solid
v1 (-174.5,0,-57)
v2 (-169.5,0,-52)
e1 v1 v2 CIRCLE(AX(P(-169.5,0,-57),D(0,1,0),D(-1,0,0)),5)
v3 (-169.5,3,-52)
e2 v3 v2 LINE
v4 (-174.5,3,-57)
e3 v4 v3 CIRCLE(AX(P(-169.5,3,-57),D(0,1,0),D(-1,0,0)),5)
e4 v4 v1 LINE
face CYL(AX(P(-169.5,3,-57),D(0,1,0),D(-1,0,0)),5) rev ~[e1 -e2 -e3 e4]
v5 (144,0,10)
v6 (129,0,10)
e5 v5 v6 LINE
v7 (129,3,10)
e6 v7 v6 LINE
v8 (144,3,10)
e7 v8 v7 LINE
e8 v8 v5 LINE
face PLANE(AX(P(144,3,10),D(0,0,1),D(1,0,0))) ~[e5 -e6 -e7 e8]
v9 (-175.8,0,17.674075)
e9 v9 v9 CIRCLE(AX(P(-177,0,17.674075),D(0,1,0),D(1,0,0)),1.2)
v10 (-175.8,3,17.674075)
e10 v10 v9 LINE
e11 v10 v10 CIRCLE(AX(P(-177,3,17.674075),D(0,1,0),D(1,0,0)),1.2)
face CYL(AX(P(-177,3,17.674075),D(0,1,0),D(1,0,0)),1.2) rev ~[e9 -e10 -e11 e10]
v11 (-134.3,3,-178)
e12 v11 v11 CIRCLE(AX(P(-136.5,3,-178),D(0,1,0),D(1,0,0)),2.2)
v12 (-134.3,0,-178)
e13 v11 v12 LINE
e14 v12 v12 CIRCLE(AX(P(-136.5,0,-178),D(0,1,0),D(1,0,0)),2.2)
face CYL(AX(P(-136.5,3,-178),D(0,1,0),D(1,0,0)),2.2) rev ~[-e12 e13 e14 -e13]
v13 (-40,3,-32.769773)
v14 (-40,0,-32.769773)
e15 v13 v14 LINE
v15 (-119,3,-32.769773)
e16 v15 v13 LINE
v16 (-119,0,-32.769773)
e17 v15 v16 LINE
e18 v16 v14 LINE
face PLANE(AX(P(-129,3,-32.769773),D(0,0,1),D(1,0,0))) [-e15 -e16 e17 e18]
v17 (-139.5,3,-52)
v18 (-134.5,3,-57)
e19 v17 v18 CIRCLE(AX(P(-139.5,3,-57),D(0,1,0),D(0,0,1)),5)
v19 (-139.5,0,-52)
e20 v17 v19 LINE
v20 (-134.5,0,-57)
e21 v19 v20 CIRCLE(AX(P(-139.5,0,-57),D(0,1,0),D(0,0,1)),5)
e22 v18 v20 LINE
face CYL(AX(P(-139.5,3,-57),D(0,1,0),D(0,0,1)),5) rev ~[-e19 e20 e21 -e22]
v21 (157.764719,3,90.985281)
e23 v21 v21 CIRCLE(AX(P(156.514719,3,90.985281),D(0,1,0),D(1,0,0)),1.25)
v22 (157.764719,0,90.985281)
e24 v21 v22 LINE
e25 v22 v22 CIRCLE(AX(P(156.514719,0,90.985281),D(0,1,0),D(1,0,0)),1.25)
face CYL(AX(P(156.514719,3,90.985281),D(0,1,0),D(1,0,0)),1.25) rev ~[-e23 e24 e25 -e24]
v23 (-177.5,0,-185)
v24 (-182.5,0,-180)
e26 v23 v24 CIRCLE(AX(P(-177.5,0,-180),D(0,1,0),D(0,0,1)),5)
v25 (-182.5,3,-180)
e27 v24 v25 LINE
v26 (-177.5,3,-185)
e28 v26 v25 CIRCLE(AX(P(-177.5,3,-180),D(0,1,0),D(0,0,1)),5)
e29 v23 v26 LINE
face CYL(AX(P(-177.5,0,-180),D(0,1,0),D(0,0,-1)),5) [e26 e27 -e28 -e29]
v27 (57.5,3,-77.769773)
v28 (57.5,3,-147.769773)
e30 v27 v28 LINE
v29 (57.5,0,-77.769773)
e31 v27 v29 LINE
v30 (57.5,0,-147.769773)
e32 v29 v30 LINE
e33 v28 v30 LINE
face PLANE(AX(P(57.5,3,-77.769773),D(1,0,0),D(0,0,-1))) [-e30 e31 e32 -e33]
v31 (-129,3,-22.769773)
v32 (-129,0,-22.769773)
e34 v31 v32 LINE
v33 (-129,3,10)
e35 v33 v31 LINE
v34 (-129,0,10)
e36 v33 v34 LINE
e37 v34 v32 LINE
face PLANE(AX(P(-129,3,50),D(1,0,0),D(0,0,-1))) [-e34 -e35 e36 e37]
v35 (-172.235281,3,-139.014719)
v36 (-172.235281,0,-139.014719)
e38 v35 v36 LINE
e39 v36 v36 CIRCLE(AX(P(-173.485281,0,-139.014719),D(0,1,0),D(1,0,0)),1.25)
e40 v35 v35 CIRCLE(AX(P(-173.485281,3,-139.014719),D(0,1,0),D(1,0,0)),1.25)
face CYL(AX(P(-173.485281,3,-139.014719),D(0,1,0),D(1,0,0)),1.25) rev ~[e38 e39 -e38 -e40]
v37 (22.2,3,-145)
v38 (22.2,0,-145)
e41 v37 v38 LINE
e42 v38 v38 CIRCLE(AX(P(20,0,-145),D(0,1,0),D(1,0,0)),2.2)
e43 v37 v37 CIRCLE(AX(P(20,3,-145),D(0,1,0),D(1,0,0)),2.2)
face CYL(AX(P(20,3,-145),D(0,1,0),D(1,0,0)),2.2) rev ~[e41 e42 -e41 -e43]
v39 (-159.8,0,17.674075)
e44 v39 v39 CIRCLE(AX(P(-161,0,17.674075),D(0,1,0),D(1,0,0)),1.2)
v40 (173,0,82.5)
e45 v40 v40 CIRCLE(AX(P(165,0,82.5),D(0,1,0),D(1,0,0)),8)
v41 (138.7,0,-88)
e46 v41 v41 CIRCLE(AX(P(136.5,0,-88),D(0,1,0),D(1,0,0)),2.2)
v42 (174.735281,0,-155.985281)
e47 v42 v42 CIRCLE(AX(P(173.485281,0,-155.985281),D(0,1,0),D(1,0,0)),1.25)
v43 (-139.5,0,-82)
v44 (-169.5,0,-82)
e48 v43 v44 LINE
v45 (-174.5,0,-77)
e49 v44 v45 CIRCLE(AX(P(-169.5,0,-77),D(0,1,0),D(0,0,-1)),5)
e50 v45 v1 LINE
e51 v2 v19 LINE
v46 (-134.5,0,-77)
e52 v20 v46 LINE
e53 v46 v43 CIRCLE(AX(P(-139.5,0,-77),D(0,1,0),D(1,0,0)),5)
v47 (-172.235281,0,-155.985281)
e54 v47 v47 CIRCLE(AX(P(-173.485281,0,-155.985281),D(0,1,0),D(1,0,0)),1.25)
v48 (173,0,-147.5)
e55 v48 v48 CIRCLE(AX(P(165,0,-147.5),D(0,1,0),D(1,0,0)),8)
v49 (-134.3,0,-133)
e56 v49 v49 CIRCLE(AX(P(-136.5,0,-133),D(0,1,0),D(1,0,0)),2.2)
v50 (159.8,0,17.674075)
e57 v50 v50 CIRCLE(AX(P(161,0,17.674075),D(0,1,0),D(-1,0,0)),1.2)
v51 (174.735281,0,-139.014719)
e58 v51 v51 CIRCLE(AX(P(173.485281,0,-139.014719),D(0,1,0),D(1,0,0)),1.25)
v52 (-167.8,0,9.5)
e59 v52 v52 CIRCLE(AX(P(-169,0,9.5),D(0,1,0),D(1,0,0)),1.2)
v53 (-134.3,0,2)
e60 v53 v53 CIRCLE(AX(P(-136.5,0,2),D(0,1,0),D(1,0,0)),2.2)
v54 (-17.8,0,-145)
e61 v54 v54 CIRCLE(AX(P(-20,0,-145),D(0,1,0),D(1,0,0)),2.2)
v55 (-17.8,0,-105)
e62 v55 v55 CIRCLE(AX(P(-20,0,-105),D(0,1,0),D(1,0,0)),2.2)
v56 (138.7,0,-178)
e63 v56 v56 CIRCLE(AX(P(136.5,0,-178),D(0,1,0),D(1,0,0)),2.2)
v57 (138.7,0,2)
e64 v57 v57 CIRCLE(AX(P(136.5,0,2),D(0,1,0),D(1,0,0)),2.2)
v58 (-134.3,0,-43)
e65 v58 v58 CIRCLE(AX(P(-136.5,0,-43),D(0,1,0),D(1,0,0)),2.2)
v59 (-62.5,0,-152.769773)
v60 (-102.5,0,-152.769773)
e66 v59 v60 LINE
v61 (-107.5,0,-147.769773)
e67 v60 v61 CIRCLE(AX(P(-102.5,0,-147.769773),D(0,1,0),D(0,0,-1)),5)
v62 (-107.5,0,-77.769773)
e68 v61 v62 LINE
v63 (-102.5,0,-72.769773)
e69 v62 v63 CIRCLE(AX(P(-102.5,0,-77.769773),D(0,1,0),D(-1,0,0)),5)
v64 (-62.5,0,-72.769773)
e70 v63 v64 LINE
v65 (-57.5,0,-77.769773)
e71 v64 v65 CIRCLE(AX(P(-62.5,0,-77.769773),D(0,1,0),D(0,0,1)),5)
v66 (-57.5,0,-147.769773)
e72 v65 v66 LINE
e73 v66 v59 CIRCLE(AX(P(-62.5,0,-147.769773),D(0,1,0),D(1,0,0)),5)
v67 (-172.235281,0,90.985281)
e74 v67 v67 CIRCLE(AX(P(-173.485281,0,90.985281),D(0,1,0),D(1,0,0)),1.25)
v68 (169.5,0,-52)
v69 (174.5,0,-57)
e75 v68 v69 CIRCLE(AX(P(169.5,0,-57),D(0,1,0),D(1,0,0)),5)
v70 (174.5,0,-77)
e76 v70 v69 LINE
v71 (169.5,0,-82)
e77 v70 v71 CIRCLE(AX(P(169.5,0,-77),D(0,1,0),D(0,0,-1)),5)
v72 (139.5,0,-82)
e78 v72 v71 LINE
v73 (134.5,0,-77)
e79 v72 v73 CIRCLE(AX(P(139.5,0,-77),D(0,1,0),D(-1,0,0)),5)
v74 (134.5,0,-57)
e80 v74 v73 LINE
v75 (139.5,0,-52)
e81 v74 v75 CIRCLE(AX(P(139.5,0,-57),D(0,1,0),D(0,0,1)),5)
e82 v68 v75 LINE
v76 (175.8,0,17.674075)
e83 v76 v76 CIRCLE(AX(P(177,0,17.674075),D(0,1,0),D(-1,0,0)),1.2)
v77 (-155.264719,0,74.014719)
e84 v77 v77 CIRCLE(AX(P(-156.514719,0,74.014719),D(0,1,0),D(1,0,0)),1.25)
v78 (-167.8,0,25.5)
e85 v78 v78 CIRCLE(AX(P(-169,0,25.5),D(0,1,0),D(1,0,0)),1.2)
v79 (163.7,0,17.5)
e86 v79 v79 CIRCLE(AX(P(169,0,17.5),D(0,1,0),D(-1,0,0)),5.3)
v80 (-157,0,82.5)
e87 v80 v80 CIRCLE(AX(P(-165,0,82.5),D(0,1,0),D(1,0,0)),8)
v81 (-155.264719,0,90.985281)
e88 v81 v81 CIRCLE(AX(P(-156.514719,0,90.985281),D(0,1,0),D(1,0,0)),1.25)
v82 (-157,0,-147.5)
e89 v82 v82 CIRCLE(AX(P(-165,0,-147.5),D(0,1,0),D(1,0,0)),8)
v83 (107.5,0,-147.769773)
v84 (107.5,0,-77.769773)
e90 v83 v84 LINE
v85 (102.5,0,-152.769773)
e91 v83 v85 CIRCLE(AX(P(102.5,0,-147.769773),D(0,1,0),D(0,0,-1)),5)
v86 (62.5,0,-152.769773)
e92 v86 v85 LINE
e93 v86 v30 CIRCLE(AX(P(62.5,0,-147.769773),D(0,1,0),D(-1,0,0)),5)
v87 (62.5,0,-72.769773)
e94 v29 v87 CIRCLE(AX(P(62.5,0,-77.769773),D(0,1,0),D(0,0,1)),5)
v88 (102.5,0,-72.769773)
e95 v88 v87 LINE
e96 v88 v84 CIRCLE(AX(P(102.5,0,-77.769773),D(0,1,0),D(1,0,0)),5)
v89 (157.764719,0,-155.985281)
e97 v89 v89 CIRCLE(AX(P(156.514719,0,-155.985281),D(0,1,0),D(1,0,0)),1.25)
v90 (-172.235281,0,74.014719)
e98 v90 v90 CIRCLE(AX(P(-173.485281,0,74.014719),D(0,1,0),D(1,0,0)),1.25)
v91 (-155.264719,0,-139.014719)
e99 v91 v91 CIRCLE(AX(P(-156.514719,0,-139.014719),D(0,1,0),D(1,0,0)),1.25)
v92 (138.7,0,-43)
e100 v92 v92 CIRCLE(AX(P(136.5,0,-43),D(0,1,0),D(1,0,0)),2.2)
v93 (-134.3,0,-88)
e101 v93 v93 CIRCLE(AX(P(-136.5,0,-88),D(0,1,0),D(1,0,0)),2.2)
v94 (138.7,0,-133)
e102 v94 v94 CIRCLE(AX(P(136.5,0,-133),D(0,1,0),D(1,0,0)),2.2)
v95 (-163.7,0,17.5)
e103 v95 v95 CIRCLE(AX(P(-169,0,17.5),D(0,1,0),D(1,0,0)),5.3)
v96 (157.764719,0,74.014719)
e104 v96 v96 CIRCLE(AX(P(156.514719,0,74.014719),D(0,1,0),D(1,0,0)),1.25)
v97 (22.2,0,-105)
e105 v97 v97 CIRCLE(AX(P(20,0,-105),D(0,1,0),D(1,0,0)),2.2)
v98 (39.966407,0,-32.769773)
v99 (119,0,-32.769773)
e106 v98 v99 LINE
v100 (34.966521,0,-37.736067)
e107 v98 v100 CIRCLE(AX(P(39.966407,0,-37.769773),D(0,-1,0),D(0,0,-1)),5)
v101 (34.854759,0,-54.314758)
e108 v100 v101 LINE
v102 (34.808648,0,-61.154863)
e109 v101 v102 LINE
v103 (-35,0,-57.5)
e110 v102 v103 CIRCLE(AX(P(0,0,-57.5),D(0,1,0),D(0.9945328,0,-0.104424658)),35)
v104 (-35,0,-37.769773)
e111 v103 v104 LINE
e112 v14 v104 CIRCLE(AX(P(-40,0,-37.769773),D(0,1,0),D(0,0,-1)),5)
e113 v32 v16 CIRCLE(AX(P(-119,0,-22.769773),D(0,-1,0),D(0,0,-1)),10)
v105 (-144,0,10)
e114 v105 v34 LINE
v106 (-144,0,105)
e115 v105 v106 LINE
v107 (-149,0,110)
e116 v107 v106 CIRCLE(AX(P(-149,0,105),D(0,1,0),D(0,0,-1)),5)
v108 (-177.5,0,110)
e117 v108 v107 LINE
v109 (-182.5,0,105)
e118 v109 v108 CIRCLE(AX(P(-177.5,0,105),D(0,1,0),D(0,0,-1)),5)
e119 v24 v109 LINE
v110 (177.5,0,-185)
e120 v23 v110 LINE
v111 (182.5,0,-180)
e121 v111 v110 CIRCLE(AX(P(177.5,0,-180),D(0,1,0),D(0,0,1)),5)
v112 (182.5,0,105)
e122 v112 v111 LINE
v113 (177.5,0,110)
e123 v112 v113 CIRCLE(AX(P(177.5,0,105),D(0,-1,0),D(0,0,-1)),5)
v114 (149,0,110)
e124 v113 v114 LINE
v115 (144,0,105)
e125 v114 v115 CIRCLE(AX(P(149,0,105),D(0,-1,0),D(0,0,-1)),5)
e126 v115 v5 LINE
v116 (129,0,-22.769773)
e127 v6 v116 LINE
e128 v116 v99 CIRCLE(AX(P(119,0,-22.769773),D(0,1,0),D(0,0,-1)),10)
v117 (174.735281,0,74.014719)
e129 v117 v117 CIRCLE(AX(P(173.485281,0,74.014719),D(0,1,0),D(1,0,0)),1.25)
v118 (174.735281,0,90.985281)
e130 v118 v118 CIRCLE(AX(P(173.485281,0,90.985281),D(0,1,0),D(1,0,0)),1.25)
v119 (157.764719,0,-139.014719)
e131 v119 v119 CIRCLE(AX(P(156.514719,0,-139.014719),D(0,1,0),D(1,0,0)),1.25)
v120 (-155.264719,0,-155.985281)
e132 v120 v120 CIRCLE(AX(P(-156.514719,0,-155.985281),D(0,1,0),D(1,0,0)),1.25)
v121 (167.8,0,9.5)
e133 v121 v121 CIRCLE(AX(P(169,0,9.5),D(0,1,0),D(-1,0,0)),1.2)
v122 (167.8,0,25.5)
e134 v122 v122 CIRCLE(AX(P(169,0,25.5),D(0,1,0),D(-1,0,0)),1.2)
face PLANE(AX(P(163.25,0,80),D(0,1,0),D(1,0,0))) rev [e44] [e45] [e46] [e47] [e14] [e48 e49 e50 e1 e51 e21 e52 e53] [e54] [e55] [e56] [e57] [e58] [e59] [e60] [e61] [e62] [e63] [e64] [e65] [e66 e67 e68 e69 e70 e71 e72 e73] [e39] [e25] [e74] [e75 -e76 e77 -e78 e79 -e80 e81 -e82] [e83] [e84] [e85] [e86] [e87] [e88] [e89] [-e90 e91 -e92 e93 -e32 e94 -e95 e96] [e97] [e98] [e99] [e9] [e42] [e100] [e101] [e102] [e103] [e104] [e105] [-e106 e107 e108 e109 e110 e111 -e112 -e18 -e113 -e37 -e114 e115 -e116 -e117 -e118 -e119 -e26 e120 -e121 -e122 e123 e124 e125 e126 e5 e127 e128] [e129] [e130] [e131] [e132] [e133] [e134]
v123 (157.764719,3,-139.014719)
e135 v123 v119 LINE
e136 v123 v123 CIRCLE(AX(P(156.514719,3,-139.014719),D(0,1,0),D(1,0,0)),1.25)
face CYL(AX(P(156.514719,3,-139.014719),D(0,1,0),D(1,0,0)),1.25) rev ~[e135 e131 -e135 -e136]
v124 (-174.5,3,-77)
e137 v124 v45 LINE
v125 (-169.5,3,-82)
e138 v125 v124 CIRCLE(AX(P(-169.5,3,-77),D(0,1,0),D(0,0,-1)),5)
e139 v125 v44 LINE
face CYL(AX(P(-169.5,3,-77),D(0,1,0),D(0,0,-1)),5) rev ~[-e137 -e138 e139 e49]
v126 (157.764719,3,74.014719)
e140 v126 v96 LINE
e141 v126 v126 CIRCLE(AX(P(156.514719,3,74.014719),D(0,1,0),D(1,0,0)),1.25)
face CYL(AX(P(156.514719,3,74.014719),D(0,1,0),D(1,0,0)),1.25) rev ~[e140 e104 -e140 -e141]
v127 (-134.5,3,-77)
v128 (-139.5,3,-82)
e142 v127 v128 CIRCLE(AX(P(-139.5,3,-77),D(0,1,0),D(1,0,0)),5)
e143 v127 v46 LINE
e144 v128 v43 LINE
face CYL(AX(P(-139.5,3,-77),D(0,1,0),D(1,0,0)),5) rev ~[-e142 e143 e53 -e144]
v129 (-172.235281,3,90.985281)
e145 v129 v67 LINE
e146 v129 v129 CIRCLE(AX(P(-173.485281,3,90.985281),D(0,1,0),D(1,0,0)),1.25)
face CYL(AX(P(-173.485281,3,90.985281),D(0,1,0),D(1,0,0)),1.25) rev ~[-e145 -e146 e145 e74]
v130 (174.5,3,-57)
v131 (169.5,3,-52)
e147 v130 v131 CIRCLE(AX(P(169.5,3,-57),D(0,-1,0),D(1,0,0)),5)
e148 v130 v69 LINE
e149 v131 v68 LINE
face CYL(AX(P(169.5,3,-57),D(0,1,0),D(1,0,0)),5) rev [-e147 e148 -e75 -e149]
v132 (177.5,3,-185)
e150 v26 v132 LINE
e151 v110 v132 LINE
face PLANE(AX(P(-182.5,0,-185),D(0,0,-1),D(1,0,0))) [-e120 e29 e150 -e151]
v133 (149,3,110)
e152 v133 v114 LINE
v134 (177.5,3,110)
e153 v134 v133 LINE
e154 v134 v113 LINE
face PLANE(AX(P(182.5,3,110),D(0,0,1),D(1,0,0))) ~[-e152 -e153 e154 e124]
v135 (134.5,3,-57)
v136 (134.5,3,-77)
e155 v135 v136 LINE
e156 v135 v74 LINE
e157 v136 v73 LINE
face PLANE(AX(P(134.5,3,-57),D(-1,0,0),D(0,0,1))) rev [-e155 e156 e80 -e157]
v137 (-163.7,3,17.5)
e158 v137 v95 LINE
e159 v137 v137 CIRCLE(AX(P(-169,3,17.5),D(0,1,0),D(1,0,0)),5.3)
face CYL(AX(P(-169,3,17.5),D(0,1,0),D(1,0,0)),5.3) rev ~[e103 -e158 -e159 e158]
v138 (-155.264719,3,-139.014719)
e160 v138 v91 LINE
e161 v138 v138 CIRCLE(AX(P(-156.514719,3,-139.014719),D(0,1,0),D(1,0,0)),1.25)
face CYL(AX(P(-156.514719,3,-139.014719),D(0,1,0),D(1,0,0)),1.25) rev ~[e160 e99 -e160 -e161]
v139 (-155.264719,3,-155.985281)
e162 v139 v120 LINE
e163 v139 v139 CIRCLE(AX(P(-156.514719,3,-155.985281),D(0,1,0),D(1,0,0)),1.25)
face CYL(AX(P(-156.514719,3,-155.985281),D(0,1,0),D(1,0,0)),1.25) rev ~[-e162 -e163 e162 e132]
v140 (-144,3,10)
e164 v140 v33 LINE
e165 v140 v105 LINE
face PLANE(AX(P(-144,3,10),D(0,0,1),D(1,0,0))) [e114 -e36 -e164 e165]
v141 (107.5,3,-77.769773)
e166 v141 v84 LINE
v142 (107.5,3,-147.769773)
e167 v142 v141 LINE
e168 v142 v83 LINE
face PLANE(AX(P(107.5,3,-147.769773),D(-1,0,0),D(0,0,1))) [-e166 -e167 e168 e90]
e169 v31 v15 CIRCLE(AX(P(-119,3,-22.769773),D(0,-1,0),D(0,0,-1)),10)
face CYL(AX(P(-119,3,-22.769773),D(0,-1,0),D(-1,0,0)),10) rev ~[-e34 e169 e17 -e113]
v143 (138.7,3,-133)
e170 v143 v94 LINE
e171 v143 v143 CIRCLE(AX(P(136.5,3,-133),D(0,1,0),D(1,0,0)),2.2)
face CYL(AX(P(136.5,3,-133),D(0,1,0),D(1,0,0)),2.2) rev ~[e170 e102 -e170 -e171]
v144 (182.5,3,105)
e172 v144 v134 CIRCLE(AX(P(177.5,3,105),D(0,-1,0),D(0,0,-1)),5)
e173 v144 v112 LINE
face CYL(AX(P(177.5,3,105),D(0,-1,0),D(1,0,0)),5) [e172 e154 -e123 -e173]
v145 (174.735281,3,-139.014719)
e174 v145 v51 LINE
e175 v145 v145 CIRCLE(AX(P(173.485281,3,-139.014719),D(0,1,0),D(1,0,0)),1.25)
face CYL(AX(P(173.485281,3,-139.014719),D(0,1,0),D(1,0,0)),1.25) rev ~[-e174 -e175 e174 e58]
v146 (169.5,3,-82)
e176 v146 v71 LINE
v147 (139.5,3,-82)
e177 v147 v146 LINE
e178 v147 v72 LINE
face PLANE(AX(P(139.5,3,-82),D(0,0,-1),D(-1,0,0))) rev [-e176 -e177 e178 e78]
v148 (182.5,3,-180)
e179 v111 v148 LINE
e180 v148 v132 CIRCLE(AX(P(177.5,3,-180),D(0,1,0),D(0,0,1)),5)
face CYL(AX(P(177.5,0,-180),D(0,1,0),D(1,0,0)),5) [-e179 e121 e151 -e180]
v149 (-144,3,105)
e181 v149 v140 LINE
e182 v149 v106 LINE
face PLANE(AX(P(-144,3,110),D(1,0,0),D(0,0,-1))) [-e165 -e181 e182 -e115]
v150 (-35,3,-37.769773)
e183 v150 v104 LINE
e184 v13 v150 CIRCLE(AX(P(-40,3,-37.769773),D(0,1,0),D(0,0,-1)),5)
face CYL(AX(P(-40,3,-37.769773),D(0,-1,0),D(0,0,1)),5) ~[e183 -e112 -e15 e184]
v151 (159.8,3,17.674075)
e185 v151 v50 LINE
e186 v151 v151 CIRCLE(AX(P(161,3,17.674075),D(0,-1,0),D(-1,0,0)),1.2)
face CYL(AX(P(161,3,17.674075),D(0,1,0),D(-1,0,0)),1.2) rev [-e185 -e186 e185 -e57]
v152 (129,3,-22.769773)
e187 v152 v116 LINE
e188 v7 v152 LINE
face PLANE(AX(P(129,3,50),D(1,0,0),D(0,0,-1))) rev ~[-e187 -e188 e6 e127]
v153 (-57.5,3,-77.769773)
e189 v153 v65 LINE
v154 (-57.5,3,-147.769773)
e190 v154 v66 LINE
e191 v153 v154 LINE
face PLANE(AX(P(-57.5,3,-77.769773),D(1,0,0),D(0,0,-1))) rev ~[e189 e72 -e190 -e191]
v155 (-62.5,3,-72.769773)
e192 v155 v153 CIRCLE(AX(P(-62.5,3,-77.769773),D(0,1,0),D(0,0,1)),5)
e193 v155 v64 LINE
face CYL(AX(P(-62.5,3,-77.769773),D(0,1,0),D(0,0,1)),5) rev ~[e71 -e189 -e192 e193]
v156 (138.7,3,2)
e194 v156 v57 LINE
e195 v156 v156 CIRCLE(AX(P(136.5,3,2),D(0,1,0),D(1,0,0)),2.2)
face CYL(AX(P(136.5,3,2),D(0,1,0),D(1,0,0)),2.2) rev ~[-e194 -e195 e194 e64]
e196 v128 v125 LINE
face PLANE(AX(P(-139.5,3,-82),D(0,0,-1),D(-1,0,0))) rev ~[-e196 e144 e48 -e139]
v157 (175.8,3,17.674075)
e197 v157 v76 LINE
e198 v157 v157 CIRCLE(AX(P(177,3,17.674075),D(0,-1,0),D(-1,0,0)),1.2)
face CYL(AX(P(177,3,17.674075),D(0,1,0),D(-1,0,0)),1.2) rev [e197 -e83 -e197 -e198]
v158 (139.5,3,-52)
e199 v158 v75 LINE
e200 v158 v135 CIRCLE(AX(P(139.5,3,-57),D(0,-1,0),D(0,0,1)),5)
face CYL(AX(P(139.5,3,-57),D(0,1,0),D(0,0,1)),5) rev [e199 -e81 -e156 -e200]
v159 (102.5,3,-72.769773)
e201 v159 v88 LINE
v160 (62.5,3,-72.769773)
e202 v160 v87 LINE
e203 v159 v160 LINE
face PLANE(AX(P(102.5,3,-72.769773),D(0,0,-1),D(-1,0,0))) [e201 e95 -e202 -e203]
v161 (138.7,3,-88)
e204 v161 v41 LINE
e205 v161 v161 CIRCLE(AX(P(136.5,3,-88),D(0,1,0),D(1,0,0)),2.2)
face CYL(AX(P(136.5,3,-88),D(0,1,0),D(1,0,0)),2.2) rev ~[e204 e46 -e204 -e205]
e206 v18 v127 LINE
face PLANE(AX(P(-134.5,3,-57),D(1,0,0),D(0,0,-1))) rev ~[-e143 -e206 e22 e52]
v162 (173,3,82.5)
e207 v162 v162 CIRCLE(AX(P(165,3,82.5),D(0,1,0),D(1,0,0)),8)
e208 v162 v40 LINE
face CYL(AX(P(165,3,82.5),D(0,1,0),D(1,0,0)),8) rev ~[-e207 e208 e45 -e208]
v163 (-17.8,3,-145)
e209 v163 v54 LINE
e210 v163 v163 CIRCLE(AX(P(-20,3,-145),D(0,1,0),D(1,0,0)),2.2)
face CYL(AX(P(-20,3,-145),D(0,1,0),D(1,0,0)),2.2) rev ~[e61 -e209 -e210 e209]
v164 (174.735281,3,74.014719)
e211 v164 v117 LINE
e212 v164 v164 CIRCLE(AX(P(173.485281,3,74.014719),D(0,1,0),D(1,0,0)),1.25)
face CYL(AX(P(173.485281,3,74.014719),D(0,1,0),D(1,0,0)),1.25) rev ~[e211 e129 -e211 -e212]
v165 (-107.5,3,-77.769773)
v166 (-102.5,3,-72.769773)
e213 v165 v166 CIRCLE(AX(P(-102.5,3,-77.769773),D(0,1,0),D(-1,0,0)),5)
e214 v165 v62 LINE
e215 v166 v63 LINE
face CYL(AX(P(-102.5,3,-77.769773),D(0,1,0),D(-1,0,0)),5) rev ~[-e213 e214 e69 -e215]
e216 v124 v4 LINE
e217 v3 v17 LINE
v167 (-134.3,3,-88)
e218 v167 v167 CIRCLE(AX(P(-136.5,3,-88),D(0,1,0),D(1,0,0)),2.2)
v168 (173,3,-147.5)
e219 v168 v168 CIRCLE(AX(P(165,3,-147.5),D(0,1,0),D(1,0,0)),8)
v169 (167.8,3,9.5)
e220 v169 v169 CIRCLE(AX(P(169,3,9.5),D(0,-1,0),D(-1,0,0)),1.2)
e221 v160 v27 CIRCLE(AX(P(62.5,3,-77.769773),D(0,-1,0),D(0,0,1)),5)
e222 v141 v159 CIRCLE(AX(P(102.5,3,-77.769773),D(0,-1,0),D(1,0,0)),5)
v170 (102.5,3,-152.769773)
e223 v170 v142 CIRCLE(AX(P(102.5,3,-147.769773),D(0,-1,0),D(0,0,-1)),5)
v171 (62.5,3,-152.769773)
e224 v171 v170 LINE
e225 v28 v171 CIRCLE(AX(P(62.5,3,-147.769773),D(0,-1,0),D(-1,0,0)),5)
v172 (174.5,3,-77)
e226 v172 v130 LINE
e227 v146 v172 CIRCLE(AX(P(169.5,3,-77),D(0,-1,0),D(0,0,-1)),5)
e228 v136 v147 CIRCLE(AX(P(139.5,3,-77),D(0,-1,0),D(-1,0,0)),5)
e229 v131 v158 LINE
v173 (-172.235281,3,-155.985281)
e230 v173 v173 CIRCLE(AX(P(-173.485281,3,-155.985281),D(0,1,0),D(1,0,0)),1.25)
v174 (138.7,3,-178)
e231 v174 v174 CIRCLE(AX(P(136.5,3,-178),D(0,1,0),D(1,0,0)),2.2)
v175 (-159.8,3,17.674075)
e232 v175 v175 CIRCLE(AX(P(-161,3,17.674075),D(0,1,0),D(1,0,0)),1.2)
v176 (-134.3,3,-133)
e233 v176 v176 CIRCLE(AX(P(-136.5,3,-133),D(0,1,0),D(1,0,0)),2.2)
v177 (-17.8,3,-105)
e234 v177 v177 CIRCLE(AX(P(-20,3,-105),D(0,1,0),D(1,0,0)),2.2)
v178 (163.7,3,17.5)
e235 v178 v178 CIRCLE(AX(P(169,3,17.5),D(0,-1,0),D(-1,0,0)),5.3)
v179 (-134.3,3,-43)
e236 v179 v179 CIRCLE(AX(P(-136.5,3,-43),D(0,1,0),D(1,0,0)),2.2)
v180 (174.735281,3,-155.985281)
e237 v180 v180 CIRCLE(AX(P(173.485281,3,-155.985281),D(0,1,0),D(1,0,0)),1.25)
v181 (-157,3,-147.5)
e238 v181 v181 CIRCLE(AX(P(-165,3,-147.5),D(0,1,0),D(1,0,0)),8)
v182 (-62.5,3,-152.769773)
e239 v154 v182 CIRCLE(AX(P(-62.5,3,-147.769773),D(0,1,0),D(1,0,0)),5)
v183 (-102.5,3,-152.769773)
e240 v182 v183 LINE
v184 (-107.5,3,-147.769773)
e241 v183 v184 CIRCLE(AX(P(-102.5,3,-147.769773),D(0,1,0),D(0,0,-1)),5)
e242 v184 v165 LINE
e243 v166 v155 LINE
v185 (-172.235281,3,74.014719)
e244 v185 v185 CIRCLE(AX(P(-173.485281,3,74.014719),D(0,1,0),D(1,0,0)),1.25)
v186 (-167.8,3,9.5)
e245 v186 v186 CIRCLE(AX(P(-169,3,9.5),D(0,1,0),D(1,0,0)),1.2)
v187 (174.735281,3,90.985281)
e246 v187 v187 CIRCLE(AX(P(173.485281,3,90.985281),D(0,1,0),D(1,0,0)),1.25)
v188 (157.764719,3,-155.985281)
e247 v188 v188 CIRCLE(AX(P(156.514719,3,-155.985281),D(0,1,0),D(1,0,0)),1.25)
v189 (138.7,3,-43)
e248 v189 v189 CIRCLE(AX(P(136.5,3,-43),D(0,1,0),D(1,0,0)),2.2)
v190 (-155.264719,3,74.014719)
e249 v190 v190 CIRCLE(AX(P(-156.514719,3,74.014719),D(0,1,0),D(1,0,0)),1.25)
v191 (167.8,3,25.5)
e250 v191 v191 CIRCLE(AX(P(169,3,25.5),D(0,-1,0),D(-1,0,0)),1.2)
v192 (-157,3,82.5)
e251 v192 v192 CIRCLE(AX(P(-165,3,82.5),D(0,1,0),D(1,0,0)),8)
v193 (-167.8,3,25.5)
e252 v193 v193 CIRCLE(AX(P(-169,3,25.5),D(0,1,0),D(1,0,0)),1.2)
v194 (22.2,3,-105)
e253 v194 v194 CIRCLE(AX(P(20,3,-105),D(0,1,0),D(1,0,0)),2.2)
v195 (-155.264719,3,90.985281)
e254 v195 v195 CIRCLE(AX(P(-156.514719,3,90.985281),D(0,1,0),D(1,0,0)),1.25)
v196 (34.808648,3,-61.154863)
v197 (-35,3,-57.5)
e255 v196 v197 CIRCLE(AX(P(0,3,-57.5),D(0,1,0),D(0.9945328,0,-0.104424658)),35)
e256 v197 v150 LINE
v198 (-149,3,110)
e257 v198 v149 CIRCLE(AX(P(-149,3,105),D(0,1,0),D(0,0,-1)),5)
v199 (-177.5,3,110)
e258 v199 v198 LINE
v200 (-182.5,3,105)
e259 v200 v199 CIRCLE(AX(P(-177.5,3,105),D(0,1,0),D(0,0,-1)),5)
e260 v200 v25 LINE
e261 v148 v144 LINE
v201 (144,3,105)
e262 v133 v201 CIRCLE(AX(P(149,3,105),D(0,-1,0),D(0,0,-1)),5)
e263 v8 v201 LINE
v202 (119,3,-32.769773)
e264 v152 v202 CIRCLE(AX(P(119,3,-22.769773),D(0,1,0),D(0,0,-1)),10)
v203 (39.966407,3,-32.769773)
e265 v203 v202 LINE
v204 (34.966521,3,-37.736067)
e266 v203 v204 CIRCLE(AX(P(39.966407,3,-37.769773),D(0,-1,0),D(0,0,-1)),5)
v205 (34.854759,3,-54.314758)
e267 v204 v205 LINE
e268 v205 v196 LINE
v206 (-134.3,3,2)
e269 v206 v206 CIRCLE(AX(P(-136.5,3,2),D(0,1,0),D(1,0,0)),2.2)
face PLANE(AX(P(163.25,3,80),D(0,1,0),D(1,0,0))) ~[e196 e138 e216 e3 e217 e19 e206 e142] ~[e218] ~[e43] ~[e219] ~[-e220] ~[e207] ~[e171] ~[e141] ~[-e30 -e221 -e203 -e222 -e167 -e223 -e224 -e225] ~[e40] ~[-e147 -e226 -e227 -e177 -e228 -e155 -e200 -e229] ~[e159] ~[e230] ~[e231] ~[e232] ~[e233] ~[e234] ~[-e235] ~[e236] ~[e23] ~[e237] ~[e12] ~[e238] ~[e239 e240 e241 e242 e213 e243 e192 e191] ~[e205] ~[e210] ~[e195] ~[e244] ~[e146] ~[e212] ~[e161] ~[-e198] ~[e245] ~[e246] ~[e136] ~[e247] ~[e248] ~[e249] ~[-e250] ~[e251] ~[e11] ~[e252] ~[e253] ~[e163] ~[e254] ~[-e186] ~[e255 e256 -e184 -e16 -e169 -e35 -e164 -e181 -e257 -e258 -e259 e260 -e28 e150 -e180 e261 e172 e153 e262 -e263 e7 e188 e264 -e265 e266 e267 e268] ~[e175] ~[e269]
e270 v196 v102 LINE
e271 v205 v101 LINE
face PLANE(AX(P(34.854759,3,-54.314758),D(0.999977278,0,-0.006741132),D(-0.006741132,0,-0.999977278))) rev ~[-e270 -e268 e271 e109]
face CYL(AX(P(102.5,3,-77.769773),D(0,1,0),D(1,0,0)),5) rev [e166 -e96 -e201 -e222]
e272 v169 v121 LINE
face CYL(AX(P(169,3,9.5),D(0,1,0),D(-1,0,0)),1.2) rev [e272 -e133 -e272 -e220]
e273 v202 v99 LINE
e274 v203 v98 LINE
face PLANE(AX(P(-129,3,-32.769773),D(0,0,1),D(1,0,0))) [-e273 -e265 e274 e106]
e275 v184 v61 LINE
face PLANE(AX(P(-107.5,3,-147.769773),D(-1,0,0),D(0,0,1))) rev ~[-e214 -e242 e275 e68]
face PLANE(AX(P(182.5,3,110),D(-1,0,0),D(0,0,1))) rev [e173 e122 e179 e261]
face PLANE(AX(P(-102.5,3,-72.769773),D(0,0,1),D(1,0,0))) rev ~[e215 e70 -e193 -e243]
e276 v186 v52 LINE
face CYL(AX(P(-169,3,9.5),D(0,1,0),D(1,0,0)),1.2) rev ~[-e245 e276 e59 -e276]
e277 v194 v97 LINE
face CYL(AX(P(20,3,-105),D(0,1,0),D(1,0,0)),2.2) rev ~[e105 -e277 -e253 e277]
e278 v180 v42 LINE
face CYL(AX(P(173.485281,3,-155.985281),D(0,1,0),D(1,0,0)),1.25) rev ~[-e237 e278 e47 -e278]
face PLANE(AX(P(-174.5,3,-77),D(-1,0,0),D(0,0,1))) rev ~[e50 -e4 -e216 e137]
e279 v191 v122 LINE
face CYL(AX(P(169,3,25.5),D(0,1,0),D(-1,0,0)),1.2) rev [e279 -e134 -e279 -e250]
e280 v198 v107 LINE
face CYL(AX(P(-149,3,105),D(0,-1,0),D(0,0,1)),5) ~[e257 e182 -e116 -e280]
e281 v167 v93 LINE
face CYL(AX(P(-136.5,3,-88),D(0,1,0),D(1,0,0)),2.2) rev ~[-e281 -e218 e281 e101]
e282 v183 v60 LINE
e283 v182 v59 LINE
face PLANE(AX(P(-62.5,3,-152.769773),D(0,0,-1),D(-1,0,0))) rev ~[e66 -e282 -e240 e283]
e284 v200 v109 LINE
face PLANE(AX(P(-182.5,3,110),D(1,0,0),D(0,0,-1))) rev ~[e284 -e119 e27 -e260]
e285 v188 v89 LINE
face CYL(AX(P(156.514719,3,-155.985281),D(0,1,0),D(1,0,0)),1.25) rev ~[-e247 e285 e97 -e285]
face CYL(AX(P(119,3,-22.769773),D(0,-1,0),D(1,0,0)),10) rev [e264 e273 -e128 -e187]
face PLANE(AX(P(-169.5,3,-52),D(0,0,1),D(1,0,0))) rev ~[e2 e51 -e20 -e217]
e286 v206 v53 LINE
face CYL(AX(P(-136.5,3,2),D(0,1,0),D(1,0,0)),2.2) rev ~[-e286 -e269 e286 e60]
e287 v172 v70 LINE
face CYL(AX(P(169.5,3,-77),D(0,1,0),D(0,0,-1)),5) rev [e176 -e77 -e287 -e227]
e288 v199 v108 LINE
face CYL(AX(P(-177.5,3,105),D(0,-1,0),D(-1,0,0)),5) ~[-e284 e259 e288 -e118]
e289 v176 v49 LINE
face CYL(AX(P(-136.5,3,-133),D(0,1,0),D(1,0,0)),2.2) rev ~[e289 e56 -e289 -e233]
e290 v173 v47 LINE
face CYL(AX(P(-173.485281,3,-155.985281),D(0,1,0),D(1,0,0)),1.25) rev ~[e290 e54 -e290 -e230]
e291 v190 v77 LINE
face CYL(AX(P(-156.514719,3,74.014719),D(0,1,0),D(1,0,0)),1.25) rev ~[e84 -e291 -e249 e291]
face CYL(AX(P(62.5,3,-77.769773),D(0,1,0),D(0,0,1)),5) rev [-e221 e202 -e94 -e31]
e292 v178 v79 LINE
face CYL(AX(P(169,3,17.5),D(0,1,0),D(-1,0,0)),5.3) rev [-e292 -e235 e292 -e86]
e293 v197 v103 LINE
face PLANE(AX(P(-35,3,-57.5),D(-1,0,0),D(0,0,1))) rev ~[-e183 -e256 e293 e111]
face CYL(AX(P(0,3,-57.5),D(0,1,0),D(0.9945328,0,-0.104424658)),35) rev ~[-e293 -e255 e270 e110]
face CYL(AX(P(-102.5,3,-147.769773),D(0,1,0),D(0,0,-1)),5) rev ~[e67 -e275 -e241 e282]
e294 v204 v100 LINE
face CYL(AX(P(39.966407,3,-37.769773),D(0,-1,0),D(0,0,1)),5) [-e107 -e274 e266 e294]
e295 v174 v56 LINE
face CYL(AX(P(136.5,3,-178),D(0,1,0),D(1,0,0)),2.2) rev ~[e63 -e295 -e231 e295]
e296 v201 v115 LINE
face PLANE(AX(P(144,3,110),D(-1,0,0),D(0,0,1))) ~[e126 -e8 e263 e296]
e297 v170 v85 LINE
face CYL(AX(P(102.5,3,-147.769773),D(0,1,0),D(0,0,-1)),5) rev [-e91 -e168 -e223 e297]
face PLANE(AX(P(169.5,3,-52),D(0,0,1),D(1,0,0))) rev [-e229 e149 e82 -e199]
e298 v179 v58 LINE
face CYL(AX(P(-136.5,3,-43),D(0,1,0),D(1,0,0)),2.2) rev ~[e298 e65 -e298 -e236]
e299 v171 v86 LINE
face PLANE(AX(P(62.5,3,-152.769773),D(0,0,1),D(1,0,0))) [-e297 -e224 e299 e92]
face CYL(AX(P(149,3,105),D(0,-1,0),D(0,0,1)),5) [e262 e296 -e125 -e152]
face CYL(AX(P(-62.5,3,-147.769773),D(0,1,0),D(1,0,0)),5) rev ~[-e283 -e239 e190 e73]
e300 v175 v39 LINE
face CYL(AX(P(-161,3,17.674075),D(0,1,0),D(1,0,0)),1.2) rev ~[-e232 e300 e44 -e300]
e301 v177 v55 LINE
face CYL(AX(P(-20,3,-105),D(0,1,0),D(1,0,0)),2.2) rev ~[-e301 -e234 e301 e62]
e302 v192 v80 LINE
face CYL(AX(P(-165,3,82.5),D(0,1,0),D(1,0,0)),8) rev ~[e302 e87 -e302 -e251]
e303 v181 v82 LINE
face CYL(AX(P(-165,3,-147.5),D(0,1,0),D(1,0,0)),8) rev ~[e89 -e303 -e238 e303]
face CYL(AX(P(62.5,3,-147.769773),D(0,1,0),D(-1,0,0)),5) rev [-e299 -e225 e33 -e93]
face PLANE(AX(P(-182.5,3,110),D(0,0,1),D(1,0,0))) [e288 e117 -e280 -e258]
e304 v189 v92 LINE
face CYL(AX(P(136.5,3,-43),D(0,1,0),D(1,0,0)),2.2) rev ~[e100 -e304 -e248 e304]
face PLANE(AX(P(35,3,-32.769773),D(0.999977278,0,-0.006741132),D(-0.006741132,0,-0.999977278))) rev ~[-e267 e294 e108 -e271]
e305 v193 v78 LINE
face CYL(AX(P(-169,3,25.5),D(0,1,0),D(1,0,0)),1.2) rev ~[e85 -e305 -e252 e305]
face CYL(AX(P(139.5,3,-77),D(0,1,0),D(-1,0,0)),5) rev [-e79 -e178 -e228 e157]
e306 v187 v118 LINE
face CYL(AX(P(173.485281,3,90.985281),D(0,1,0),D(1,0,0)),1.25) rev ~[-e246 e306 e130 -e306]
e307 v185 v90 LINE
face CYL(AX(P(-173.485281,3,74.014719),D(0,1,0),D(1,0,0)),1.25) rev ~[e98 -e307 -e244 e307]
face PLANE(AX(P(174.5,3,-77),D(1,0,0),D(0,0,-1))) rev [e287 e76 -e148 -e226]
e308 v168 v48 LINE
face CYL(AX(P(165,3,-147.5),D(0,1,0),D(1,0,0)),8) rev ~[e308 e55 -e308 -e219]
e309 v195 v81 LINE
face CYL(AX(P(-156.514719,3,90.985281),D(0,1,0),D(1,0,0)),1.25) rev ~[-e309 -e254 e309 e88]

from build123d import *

# Parameters (mm, degrees)
SKETCH1_W           = 365
SKETCH1_H           = 370
BOSS_EXTRUDE1_DEPTH = 3
SKETCH2_W           = 365
SKETCH2_H           = 135
CUT_EXTRUDE1_DEPTH  = 10
SKETCH3_R           = 1.25
SKETCH3_R_2         = 8
CUT_EXTRUDE2_DEPTH  = 10
SKETCH4_R           = 5.3
SKETCH4_R_2         = 1.2
CUT_EXTRUDE3_DEPTH  = 10
SKETCH5_W           = 258
SKETCH5_H           = 82.769773142
CUT_EXTRUDE4_DEPTH  = 10
SKETCH6_W           = 15
SKETCH6_H           = 40
CUT_EXTRUDE5_DEPTH  = 10
CUT_EXTRUDE6_DEPTH  = 10
CUT_EXTRUDE7_DEPTH  = 10
SKETCH9_R           = 2.2
CUT_EXTRUDE8_DEPTH  = 10
FILLET1_R           = 10
CUT_EXTRUDE9_DEPTH  = 10
SKETCH11_R          = 2.2
CUT_EXTRUDE10_DEPTH = 10
SKETCH12_W          = 38.5
SKETCH12_H          = 60
BOSS_EXTRUDE2_DEPTH = 3
LPATTERN1_COUNT     = 2
LPATTERN1_PITCH     = 230
FILLET2_R           = 5


with BuildPart() as part:
    # Sketch1 → Boss-Extrude1 (new body)
    with BuildSketch(Plane(origin=(0, 0, 0), x_dir=(1, 0, 0), z_dir=(0, 1, 0))):
        Rectangle(SKETCH1_W, SKETCH1_H)
    extrude(amount=BOSS_EXTRUDE1_DEPTH)

    # Sketch2 → Cut-Extrude1 (cut)
    with BuildSketch(Plane(origin=(0, 3, 0), x_dir=(1, 0, 0), z_dir=(0, 1, 0))):
        with Locations((0, -117.5)):
            Rectangle(SKETCH2_W, SKETCH2_H)
    extrude(amount=-CUT_EXTRUDE1_DEPTH, mode=Mode.SUBTRACT)

    # Sketch3 → Cut-Extrude2 (cut)
    with BuildSketch(Plane(origin=(0, 3, 0), x_dir=(1, 0, 0), z_dir=(0, 1, 0))):
        with Locations((-173.485281374, 155.985281374)):
            Circle(SKETCH3_R)
        with Locations((-173.485281374, 139.014718626)):
            Circle(SKETCH3_R)
        with Locations((-156.514718626, 155.985281374)):
            Circle(SKETCH3_R)
        with Locations((-156.514718626, 139.014718626)):
            Circle(SKETCH3_R)
        with Locations((-165, 147.5)):
            Circle(SKETCH3_R_2)
        with Locations((156.514718626, 155.985281374)):
            Circle(SKETCH3_R)
        with Locations((173.485281374, 155.985281374)):
            Circle(SKETCH3_R)
        with Locations((173.485281374, 139.014718626)):
            Circle(SKETCH3_R)
        with Locations((156.514718626, 139.014718626)):
            Circle(SKETCH3_R)
        with Locations((165, 147.5)):
            Circle(SKETCH3_R_2)
    cut_extrude2 = extrude(amount=-CUT_EXTRUDE2_DEPTH, mode=Mode.SUBTRACT)

    # Sketch4 → Cut-Extrude3 (cut)
    with BuildSketch(Plane(origin=(0, 3, 0), x_dir=(1, 0, 0), z_dir=(0, 1, 0))):
        with Locations((-169, -17.5)):
            Circle(SKETCH4_R)
        with Locations((-169, -9.5)):
            Circle(SKETCH4_R_2)
        with Locations((-169, -25.5)):
            Circle(SKETCH4_R_2)
        with Locations((-161, -17.674075017)):
            Circle(SKETCH4_R_2)
        with Locations((-177, -17.674075017)):
            Circle(SKETCH4_R_2)
    cut_extrude3 = extrude(amount=-CUT_EXTRUDE3_DEPTH, mode=Mode.SUBTRACT)

    # Mirror1: Cut-Extrude3 across plane
    add(cut_extrude3.mirror(Plane(origin=(0, 0, 0), x_dir=(0, 0, 1), z_dir=(1, 0, 0))), mode=Mode.SUBTRACT)

    # Sketch5 → Cut-Extrude4 (cut)
    with BuildSketch(Plane(origin=(0, 3, 0), x_dir=(1, 0, 0), z_dir=(0, 1, 0))):
        with Locations((0, -8.615113429)):
            Rectangle(SKETCH5_W, SKETCH5_H)
    extrude(amount=-CUT_EXTRUDE4_DEPTH, mode=Mode.SUBTRACT)

    # Sketch6 → Cut-Extrude5 (cut)
    with BuildSketch(Plane(origin=(0, 3, 0), x_dir=(1, 0, 0), z_dir=(0, 1, 0))):
        with Locations((-136.5, -30)):
            Rectangle(SKETCH6_W, SKETCH6_H)
    cut_extrude5 = extrude(amount=-CUT_EXTRUDE5_DEPTH, mode=Mode.SUBTRACT)

    # Mirror2: Cut-Extrude5 across plane
    add(cut_extrude5.mirror(Plane(origin=(0, 0, 0), x_dir=(0, 0, 1), z_dir=(1, 0, 0))), mode=Mode.SUBTRACT)

    # Sketch7 → Cut-Extrude6 (cut)
    with BuildSketch(Plane(origin=(0, 3, 0), x_dir=(1, 0, 0), z_dir=(0, 1, 0))):
        with BuildLine():
            ThreePointArc((-24.767233991, 32.769773142), (-32.340788408, 44.118168841), (-35, 57.5))
            Line((-35, 57.5), (-35, 32.769773142))
            Line((-35, 32.769773142), (-24.767233991, 32.769773142))
        make_face()
        with BuildLine():
            ThreePointArc((34.808648008, 61.154863037), (-1.829934385, 92.452129265), (-35, 57.5))
            ThreePointArc((-35, 57.5), (-32.340788408, 44.118168841), (-24.767233991, 32.769773142))
            Line((-24.767233991, 32.769773142), (24.767233991, 32.769773142))
            ThreePointArc((24.767233991, 32.769773142), (31.697667218, 42.658912002), (34.854759109, 54.31475787))
            Line((34.854759109, 54.31475787), (34.808648008, 61.154863037))
        make_face()
        with BuildLine():
            Line((35, 32.769773142), (34.854759109, 54.31475787))
            ThreePointArc((34.854759109, 54.31475787), (31.697667218, 42.658912002), (24.767233991, 32.769773142))
            Line((24.767233991, 32.769773142), (35, 32.769773142))
        make_face()
    extrude(amount=-CUT_EXTRUDE6_DEPTH, mode=Mode.SUBTRACT)

    # Sketch8 → Cut-Extrude7 (cut)
    with BuildSketch(Plane(origin=(0, 3, 0), x_dir=(1, 0, 0), z_dir=(0, 1, 0))):
        with BuildLine():
            Line((-169.5, 52), (-139.5, 52))
            ThreePointArc((-139.5, 52), (-135.964466094, 53.464466094), (-134.5, 57))
            Line((-134.5, 57), (-134.5, 77))
            ThreePointArc((-134.5, 77), (-135.964466094, 80.535533906), (-139.5, 82))
            Line((-139.5, 82), (-169.5, 82))
            ThreePointArc((-169.5, 82), (-173.035533906, 80.535533906), (-174.5, 77))
            Line((-174.5, 77), (-174.5, 57))
            ThreePointArc((-174.5, 57), (-173.035533906, 53.464466094), (-169.5, 52))
        make_face()
    cut_extrude7 = extrude(amount=-CUT_EXTRUDE7_DEPTH, mode=Mode.SUBTRACT)

    # Mirror3: Cut-Extrude7 across plane
    add(cut_extrude7.mirror(Plane(origin=(0, 0, 0), x_dir=(0, 0, 1), z_dir=(1, 0, 0))), mode=Mode.SUBTRACT)

    # Sketch9 → Cut-Extrude8 (cut)
    with BuildSketch(Plane(origin=(0, 3, 0), x_dir=(1, 0, 0), z_dir=(0, 1, 0))):
        with Locations((-136.5, -2)):
            Circle(SKETCH9_R)
        with Locations((-136.5, 43)):
            Circle(SKETCH9_R)
        with Locations((-136.5, 88)):
            Circle(SKETCH9_R)
        with Locations((-136.5, 133)):
            Circle(SKETCH9_R)
        with Locations((-136.5, 178)):
            Circle(SKETCH9_R)
        with Locations((136.5, 178)):
            Circle(SKETCH9_R)
        with Locations((136.5, 133)):
            Circle(SKETCH9_R)
        with Locations((136.5, 88)):
            Circle(SKETCH9_R)
        with Locations((136.5, 43)):
            Circle(SKETCH9_R)
        with Locations((136.5, -2)):
            Circle(SKETCH9_R)
    extrude(amount=-CUT_EXTRUDE8_DEPTH, mode=Mode.SUBTRACT)

    # Fillet1
    fillet1_edges = [part.edges().sort_by_distance(p)[0] for p in [
        (-129, 1.5, -32.769773142),
        (129, 1.5, -32.769773142),
    ]]
    fillet(fillet1_edges, radius=FILLET1_R)

    # Sketch10 → Cut-Extrude9 (cut)
    with BuildSketch(Plane(origin=(0, 3, 0), x_dir=(1, 0, 0), z_dir=(0, 1, 0))):
        with BuildLine():
            Line((102.5, 72.769773142), (62.5, 72.769773142))
            ThreePointArc((62.5, 72.769773142), (58.964466094, 74.234239236), (57.5, 77.769773142))
            Line((57.5, 77.769773142), (57.5, 147.769773142))
            ThreePointArc((57.5, 147.769773142), (58.964466094, 151.305307048), (62.5, 152.769773142))
            Line((62.5, 152.769773142), (102.5, 152.769773142))
            ThreePointArc((102.5, 152.769773142), (106.035533906, 151.305307048), (107.5, 147.769773142))
            Line((107.5, 147.769773142), (107.5, 77.769773142))
            ThreePointArc((107.5, 77.769773142), (106.035533906, 74.234239236), (102.5, 72.769773142))
        make_face()
        with BuildLine():
            Line((-57.5, 77.769773142), (-57.5, 147.769773142))
            ThreePointArc((-57.5, 147.769773142), (-58.964466094, 151.305307048), (-62.5, 152.769773142))
            Line((-62.5, 152.769773142), (-102.5, 152.769773142))
            ThreePointArc((-102.5, 152.769773142), (-106.035533906, 151.305307048), (-107.5, 147.769773142))
            Line((-107.5, 147.769773142), (-107.5, 77.769773142))
            ThreePointArc((-107.5, 77.769773142), (-106.035533906, 74.234239236), (-102.5, 72.769773142))
            Line((-102.5, 72.769773142), (-62.5, 72.769773142))
            ThreePointArc((-62.5, 72.769773142), (-58.964466094, 74.234239236), (-57.5, 77.769773142))
        make_face()
    extrude(amount=-CUT_EXTRUDE9_DEPTH, mode=Mode.SUBTRACT)

    # Sketch11 → Cut-Extrude10 (cut)
    with BuildSketch(Plane(origin=(0, 3, 0), x_dir=(1, 0, 0), z_dir=(0, 1, 0))):
        with Locations((20, 145)):
            Circle(SKETCH11_R)
        with Locations((20, 105)):
            Circle(SKETCH11_R)
        with Locations((-20, 105)):
            Circle(SKETCH11_R)
        with Locations((-20, 145)):
            Circle(SKETCH11_R)
    extrude(amount=-CUT_EXTRUDE10_DEPTH, mode=Mode.SUBTRACT)

    # Sketch12 → Boss-Extrude2 (add)
    with BuildSketch(Plane(origin=(0, 3, 0), x_dir=(1, 0, 0), z_dir=(0, 1, 0))):
        with Locations((-163.25, -80)):
            Rectangle(SKETCH12_W, SKETCH12_H)
    boss_extrude2 = extrude(amount=-BOSS_EXTRUDE2_DEPTH)

    # Mirror4: Boss-Extrude2 across plane
    add(boss_extrude2.mirror(Plane(origin=(0, 0, 0), x_dir=(0, 0, 1), z_dir=(1, 0, 0))))

    # LPattern1: Cut-Extrude2 ×2
    with Locations(*[(0, 0, i * LPATTERN1_PITCH) for i in range(1, LPATTERN1_COUNT)]):
        add(cut_extrude2, mode=Mode.SUBTRACT)

    # Fillet2
    fillet2_edges = [part.edges().sort_by_distance(p)[0] for p in [
        (35, 1.5, -32.769773142),
        (-35, 1.5, -32.769773142),
        (-182.5, 1.5, 110),
        (-144, 1.5, 110),
        (182.5, 1.5, 110),
        (144, 1.5, 110),
        (-182.5, 1.5, -185),
        (182.5, 1.5, -185),
    ]]
    fillet(fillet2_edges, radius=FILLET2_R)


solid = part.part
